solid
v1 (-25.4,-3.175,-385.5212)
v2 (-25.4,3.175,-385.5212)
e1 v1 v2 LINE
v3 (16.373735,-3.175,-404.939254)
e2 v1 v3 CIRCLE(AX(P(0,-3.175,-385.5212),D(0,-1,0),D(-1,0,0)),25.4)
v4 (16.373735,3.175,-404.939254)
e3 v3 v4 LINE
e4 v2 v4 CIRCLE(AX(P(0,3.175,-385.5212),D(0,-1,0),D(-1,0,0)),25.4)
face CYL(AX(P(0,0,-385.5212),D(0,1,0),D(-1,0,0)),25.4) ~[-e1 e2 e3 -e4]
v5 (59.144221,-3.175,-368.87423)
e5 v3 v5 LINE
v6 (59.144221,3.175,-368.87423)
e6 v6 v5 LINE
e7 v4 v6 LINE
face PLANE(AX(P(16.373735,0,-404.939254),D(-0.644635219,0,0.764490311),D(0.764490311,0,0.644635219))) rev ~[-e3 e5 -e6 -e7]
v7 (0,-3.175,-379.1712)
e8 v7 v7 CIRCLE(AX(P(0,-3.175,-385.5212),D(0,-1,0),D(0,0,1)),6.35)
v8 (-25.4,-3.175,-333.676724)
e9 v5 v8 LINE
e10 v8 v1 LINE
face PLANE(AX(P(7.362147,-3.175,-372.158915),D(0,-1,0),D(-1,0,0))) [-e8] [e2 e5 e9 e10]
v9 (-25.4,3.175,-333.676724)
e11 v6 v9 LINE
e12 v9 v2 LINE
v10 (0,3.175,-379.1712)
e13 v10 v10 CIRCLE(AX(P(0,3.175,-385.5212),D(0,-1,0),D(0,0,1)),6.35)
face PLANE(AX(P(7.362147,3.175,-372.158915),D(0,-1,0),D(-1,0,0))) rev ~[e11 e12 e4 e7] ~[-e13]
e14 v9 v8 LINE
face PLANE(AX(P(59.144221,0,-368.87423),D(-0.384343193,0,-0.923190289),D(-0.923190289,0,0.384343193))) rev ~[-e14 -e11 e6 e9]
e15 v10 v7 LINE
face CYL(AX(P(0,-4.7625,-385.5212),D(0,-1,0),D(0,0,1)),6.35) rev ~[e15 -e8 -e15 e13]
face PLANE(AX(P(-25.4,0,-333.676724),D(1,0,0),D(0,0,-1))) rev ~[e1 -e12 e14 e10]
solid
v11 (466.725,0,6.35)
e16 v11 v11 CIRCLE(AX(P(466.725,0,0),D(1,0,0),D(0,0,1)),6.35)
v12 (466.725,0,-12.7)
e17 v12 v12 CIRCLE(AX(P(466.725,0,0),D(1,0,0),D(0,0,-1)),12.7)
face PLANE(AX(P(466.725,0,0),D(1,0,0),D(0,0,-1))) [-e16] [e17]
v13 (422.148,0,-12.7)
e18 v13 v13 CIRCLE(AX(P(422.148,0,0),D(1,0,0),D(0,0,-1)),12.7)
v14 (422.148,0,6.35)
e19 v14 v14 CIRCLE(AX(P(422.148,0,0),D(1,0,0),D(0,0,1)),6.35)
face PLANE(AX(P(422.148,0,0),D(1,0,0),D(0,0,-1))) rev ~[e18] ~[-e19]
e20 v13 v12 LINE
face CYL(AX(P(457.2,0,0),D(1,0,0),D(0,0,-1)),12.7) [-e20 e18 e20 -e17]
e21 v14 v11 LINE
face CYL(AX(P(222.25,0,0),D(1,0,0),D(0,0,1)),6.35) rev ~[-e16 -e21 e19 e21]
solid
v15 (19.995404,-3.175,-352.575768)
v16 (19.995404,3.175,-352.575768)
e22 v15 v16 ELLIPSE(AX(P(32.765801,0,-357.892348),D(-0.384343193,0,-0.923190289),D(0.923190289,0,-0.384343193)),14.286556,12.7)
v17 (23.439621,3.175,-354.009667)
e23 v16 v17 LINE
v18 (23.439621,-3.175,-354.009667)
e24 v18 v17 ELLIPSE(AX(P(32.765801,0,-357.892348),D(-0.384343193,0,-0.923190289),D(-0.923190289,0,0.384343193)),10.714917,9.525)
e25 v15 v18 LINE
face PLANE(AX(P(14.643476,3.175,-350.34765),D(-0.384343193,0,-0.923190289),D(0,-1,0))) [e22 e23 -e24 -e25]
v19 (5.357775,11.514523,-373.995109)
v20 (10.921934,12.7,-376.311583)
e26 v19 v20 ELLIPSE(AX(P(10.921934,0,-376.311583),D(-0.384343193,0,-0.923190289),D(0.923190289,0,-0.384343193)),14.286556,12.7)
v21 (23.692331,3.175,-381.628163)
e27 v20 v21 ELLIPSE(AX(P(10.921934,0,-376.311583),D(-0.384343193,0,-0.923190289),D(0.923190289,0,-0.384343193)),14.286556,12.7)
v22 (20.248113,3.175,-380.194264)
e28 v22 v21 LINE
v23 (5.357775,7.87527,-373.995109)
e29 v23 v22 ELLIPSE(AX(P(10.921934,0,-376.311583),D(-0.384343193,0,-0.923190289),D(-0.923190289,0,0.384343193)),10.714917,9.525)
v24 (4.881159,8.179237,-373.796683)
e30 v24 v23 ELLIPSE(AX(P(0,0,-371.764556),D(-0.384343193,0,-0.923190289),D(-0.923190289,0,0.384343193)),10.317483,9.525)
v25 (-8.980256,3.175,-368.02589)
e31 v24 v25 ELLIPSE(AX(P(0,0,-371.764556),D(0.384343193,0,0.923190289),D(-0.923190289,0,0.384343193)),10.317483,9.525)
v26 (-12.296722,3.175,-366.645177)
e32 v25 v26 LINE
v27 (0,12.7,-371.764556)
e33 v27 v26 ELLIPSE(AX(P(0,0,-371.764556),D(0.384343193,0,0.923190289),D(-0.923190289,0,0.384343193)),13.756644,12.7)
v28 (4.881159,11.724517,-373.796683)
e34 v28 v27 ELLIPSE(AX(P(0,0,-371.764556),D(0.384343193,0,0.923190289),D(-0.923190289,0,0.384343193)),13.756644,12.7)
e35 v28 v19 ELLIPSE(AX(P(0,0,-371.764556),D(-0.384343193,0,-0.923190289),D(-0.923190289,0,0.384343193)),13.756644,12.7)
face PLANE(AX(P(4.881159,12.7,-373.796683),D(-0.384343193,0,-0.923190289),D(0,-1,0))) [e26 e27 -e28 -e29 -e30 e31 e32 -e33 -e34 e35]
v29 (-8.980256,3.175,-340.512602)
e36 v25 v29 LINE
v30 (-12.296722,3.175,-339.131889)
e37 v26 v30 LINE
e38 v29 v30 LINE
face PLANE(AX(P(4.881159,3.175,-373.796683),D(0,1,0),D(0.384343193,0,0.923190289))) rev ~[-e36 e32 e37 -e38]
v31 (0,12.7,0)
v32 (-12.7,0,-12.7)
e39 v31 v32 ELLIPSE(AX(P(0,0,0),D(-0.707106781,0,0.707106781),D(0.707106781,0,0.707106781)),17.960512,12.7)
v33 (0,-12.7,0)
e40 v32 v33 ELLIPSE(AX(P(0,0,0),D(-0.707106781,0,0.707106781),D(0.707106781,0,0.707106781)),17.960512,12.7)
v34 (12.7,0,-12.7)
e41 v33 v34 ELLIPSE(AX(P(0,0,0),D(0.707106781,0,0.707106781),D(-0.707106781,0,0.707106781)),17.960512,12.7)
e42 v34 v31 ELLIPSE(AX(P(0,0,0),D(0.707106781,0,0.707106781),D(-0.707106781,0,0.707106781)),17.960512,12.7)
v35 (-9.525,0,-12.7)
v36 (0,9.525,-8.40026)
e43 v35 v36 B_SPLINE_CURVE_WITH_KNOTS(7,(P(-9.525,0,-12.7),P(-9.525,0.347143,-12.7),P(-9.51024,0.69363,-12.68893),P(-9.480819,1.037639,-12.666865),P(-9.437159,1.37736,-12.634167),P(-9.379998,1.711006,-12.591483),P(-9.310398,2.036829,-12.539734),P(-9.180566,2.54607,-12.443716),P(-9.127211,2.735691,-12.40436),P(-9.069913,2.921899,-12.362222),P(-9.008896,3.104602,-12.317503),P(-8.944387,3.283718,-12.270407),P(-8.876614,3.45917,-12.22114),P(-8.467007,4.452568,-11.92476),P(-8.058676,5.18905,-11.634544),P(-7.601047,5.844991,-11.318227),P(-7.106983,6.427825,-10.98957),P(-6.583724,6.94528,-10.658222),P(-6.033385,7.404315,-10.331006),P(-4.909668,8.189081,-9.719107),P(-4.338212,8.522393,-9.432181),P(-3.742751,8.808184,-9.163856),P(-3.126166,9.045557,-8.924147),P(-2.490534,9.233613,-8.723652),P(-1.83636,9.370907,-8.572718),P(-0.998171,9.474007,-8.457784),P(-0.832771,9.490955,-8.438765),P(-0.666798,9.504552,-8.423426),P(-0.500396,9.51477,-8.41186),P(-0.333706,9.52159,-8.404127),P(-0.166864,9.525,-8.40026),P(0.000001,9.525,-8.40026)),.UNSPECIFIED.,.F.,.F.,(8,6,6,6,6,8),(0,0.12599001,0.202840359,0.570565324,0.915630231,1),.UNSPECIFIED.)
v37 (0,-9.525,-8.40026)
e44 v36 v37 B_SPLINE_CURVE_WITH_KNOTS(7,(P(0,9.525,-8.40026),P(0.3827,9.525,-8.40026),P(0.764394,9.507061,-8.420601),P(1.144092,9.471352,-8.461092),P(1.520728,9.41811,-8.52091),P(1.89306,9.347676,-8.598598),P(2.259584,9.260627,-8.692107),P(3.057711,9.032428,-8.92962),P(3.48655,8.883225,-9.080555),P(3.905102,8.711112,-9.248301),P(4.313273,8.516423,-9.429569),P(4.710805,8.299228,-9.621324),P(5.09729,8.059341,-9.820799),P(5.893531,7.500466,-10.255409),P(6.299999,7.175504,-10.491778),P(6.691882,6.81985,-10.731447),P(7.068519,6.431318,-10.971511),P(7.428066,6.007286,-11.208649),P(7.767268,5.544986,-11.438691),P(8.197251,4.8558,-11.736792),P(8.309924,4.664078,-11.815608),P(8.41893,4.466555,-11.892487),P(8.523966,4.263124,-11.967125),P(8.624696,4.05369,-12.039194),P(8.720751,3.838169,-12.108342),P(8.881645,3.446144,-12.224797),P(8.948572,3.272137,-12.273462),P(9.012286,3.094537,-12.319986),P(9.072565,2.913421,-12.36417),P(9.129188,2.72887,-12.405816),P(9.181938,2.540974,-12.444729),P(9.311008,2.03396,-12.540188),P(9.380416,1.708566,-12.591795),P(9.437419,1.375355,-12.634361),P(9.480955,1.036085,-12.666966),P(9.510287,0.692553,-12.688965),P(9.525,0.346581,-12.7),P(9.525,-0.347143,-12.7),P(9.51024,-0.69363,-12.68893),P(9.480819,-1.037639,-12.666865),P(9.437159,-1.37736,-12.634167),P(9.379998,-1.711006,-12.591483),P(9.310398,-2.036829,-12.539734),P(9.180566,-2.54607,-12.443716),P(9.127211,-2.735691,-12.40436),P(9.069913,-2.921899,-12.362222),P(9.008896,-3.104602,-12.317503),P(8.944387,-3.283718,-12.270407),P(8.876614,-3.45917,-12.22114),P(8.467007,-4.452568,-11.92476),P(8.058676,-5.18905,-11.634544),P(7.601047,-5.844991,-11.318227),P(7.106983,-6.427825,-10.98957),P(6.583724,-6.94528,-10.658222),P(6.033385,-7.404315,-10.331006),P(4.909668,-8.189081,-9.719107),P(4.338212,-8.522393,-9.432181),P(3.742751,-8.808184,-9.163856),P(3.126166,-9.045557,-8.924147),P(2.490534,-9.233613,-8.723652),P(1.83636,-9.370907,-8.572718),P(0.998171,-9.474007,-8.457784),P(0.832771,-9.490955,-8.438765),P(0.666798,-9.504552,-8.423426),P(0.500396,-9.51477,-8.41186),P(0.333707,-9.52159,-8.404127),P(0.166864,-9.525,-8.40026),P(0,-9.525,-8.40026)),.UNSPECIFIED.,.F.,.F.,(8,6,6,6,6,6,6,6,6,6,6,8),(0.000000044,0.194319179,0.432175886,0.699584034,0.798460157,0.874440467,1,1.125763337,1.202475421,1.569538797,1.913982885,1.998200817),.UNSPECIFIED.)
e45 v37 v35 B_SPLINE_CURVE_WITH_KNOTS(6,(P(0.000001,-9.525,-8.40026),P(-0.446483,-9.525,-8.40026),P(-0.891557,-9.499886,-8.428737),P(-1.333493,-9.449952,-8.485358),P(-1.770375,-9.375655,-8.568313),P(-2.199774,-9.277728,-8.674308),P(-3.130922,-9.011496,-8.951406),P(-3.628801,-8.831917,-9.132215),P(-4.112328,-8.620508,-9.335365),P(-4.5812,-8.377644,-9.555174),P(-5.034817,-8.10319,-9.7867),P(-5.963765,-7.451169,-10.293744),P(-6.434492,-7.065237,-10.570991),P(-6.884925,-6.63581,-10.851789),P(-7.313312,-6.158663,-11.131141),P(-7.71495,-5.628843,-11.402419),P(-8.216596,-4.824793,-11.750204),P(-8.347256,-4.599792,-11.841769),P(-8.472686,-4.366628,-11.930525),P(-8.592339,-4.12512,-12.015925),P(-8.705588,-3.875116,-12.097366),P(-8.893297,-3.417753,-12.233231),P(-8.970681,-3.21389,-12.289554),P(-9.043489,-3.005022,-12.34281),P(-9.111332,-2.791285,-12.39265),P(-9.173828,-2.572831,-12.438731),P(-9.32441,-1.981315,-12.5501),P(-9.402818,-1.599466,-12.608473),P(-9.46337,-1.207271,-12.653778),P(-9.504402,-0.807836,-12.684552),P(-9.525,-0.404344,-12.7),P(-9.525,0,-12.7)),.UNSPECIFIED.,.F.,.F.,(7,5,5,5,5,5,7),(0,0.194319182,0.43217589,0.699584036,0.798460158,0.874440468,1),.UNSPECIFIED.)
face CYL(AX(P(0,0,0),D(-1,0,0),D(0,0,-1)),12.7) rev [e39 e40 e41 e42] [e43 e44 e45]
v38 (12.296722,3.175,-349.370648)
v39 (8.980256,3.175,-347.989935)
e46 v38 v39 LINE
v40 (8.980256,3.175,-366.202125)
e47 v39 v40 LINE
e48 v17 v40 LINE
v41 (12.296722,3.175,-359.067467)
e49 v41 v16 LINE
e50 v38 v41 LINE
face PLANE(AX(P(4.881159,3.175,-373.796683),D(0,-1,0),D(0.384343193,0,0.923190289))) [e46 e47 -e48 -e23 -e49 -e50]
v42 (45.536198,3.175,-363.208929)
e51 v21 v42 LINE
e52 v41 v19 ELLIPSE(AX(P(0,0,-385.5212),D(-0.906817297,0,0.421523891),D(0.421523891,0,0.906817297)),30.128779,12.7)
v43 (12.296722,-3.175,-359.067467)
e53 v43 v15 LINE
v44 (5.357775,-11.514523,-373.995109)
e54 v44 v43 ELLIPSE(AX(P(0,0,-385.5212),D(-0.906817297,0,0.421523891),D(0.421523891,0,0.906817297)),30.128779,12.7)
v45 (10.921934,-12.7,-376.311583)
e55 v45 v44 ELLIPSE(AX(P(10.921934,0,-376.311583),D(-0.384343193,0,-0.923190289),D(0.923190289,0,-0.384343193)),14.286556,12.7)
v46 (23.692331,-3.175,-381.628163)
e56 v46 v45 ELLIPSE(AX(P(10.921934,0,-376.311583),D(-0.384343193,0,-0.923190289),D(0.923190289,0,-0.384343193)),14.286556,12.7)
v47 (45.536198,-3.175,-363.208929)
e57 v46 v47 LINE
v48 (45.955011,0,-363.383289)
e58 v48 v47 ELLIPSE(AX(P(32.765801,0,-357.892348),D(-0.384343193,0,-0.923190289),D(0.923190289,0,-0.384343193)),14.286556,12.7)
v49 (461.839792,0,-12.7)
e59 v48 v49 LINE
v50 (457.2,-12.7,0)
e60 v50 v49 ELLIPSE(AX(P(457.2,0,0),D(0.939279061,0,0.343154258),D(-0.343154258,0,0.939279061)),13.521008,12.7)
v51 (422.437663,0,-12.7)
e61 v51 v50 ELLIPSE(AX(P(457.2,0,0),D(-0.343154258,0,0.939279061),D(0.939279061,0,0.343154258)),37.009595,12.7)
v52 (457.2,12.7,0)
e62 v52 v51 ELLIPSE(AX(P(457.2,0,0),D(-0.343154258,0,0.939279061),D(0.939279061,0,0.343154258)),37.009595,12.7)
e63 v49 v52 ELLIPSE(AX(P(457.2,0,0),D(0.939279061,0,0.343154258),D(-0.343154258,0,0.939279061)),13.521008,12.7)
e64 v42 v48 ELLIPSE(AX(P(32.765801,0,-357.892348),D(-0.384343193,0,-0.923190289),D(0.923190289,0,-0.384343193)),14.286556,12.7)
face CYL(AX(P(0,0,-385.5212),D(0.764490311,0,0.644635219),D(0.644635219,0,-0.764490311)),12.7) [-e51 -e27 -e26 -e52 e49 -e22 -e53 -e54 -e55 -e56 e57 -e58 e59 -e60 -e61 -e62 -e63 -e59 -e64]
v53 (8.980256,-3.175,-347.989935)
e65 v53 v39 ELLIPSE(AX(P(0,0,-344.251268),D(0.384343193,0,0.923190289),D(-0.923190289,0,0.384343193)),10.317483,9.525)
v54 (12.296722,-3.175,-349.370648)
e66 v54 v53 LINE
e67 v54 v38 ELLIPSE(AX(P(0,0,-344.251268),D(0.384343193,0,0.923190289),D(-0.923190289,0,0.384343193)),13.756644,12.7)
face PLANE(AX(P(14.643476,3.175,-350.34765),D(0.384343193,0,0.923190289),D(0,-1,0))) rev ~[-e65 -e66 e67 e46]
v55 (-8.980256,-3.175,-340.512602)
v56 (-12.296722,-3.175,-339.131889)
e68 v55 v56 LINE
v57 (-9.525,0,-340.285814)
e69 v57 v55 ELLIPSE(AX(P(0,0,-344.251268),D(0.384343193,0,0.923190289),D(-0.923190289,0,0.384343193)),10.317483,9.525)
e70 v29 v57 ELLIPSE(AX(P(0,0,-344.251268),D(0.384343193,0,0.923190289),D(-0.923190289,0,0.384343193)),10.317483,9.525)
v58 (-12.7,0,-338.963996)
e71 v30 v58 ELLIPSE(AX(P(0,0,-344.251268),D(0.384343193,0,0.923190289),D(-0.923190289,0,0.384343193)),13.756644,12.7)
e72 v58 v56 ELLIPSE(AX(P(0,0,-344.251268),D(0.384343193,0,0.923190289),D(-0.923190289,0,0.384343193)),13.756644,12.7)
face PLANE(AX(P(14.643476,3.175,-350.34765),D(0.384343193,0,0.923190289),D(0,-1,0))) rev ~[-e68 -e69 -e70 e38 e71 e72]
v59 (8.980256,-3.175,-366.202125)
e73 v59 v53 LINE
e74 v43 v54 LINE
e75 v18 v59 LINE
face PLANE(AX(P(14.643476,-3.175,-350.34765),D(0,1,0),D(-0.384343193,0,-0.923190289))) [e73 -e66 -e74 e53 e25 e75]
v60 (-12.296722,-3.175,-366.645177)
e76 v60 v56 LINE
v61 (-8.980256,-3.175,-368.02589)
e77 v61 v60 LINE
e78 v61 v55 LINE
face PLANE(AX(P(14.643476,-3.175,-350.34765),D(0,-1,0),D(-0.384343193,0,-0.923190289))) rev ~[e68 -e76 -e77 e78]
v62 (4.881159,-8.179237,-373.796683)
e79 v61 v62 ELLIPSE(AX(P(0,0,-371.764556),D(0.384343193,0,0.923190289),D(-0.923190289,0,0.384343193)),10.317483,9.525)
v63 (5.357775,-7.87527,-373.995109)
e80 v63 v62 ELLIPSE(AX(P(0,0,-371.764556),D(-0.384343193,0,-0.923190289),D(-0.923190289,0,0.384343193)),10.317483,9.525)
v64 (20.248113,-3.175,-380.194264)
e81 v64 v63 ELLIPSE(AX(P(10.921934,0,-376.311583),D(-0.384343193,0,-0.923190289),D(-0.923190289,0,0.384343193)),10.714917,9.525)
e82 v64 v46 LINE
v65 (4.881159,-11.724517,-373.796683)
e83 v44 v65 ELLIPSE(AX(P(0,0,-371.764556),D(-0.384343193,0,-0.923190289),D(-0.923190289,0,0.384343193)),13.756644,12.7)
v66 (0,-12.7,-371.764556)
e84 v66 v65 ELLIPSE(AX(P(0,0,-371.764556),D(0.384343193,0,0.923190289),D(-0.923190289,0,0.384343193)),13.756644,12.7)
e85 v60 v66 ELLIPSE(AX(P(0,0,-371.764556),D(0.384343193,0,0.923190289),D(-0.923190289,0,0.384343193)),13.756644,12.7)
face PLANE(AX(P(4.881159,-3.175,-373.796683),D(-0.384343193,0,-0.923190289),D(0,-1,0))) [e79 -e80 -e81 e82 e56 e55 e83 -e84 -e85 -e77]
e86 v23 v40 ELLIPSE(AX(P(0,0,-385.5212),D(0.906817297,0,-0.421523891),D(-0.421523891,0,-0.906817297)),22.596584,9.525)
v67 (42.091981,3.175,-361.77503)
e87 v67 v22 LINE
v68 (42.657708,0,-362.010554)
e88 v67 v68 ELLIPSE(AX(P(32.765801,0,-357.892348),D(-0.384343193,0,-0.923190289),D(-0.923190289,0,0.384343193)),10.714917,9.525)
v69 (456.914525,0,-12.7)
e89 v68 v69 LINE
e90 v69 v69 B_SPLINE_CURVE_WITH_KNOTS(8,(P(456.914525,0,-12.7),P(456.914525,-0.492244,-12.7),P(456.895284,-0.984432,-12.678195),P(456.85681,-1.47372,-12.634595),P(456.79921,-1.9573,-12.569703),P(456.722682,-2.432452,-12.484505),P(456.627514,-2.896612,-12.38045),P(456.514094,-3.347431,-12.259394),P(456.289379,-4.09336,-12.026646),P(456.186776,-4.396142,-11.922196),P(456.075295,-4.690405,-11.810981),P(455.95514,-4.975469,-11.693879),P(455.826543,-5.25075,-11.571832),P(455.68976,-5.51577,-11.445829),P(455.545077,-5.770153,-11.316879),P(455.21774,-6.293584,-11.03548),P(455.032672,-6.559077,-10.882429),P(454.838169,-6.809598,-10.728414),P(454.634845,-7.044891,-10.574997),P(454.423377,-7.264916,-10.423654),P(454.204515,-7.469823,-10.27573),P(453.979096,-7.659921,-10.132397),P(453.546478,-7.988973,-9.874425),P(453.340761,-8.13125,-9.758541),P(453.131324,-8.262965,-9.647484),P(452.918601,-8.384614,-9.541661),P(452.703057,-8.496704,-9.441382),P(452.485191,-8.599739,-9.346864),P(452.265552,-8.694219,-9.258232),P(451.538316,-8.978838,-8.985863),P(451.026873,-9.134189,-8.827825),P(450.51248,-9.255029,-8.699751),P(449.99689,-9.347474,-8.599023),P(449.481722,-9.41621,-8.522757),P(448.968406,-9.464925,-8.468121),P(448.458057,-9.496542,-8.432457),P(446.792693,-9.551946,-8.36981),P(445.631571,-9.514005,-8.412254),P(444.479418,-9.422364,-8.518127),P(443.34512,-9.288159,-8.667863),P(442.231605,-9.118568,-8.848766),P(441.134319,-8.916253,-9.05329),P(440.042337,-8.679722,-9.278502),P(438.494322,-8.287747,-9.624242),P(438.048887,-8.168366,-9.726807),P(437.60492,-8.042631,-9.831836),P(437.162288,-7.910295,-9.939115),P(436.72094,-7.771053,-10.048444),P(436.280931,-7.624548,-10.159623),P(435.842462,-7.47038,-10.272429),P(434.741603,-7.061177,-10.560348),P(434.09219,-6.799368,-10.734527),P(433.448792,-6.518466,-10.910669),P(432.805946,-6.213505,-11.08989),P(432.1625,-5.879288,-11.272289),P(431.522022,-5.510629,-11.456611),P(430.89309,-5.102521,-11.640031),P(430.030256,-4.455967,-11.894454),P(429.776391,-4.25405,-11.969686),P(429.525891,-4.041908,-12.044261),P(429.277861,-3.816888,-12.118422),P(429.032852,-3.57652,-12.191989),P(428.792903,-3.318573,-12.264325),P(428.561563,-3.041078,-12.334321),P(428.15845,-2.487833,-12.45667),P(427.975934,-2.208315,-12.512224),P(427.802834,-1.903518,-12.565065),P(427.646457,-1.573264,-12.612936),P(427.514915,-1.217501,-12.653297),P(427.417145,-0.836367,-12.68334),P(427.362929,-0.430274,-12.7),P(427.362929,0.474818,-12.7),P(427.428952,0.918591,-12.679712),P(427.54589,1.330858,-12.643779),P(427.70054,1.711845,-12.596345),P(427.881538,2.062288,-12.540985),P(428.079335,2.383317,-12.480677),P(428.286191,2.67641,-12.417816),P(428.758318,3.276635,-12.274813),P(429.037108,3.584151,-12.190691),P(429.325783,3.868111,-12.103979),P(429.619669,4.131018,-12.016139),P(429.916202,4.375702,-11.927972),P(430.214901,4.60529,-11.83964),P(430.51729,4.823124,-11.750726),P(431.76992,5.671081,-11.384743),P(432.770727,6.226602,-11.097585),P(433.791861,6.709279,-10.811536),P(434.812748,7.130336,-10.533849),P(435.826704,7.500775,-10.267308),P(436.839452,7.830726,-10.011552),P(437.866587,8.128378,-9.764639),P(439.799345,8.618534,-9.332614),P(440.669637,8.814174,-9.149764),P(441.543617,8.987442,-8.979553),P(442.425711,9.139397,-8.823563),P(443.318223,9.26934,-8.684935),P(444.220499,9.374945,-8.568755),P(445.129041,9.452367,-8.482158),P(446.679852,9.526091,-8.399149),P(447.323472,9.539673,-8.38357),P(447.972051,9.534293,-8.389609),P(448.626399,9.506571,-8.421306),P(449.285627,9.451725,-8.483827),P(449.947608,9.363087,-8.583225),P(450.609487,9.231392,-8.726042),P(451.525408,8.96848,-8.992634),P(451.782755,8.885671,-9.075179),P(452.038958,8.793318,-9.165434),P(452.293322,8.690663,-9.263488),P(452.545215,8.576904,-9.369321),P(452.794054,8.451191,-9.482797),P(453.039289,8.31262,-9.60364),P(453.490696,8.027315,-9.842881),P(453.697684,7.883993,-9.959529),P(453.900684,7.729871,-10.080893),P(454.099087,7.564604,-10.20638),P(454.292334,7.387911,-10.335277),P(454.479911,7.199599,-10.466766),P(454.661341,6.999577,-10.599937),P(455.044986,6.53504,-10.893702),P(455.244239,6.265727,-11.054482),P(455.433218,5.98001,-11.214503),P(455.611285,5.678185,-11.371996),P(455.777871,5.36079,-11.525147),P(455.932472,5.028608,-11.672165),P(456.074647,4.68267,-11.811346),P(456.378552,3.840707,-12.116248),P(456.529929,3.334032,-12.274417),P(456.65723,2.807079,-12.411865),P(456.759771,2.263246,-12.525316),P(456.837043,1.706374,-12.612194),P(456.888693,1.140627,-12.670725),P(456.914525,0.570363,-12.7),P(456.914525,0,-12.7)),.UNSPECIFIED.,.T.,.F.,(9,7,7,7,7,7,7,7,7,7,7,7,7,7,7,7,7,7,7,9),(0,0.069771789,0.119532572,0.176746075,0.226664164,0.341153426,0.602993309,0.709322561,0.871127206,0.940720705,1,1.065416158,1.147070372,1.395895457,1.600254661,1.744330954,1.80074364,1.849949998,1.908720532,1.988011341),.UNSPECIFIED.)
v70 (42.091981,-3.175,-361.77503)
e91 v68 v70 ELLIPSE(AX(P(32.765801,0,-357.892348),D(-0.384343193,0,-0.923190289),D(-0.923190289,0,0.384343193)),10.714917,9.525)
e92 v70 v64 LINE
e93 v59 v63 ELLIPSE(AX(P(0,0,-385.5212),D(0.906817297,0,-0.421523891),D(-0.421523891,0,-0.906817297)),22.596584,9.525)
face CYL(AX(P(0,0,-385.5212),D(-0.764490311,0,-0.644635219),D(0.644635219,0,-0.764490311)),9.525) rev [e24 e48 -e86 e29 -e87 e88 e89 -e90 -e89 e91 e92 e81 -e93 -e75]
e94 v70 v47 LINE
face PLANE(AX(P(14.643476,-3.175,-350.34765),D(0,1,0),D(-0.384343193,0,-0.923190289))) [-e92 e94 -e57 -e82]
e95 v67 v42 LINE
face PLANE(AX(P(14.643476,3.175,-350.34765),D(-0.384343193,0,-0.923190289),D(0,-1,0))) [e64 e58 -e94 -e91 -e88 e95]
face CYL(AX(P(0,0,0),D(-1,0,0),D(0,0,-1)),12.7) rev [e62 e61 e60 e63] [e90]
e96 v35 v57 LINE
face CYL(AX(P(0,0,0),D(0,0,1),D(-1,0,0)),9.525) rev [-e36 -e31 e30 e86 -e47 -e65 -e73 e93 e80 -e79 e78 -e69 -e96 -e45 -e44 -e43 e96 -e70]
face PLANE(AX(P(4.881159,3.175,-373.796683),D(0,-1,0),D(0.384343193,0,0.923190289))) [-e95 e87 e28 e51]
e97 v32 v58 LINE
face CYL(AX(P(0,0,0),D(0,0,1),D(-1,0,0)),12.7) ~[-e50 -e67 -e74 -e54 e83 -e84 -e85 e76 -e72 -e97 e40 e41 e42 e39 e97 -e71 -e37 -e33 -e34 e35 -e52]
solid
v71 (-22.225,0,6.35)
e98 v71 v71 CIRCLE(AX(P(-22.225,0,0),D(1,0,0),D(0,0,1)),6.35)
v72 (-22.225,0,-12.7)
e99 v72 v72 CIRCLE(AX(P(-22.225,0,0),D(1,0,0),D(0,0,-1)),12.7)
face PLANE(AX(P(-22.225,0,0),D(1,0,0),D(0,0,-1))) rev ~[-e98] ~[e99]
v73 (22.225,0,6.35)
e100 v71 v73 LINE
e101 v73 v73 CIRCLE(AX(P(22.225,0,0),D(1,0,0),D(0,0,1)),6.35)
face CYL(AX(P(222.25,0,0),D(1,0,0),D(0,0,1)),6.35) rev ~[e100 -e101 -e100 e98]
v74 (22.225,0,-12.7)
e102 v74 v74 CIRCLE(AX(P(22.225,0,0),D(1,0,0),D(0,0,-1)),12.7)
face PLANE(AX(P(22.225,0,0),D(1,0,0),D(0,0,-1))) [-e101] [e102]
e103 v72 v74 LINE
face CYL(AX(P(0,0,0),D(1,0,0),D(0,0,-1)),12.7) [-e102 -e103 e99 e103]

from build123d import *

# Parameters (mm, degrees)
SKETCH11_ON_SEGMENT_1_R         = 12.7
SKETCH11_ON_SEGMENT_1_R_2       = 9.525
STRUCTURAL_MEMBER1_DEPTH        = 425.159349585
SKETCH11_R                      = 12.7
SKETCH11_R_2                    = 9.525
STRUCTURAL_MEMBER1_2_DEPTH      = 598.045513025
STRUCTURAL_MEMBER1_2_DEPTH_BACK = 39.638149585
CUT_EXTRUDE1_DEPTH              = 611.698909876
CUT_EXTRUDE1_DEPTH_BACK         = 611.698909876
BOSS_EXTRUDE1_DEPTH             = 3.175
BOSS_EXTRUDE1_DEPTH_BACK        = 3.175
SKETCH14_W                      = 6.35
SKETCH14_H                      = 15.875
SKETCH16_R                      = 12.7
CUT_EXTRUDE2_DEPTH              = 621.968967697
CUT_EXTRUDE2_DEPTH_BACK         = 621.968967697
SKETCH17_R                      = 12.7
BOSS_EXTRUDE2_DEPTH             = 22.225
BOSS_EXTRUDE2_DEPTH_BACK        = 22.225
SKETCH18_R                      = 12.7
BOSS_EXTRUDE3_DEPTH             = 9.525
BOSS_EXTRUDE3_DEPTH_BACK        = 35.052
SKETCH19_W                      = 6.35
SKETCH19_H                      = 488.95


with BuildPart() as part:
    # Sketch11 on segment 1 (carried to segment 1) → Structural Member1 (new body)
    with BuildSketch(Plane(origin=(0, 0, 0), x_dir=(-1, 0, 0), z_dir=(0, 0, -1))):
        Circle(SKETCH11_ON_SEGMENT_1_R)
        Circle(SKETCH11_ON_SEGMENT_1_R_2, mode=Mode.SUBTRACT)
    extrude(amount=STRUCTURAL_MEMBER1_DEPTH)

    # Structural Member1 mitre 1
    split(bisect_by=Plane(origin=(0, 0, -385.5212), x_dir=(0, -1, 0), z_dir=(-0.906817297, 0, 0.421523891)), keep=Keep.TOP)


with BuildPart() as body_2:
    # Sketch11 → Structural Member1 2 (new, two sides)
    with BuildSketch(Plane(origin=(0, 0, -385.5212), x_dir=(0.6446352185637546, 0, -0.7644903105908277), z_dir=(0.7644903105908278, 0, 0.6446352185637547))) as structural_member1_2_sk:
        Circle(SKETCH11_R)
        Circle(SKETCH11_R_2, mode=Mode.SUBTRACT)
    extrude(amount=STRUCTURAL_MEMBER1_2_DEPTH)
    extrude(structural_member1_2_sk.sketch, amount=-STRUCTURAL_MEMBER1_2_DEPTH_BACK)

    # Structural Member1 2 mitre 1
    split(bisect_by=Plane(origin=(0, 0, -385.5212), x_dir=(0, 1, 0), z_dir=(0.906817297, 0, -0.421523891)), keep=Keep.TOP)


with BuildPart() as part_1:
    add(part.part)

    # Structural Member1 as one body: union body 2
    add(body_2.part)

    # Sketch13 → Cut-Extrude1 (cut, two sides)
    with BuildSketch(Plane(origin=(0, 0, -385.5212), x_dir=(0.3843431928760582, 0, 0.9231902892090218), z_dir=(-0.9231902892090218, 0, 0.3843431928760582))) as cut_extrude1_sk:
        Polygon((12.7, 3.175), (38.1, 3.175), (38.1, -3.175), (12.7, -3.175), (12.7, -12.7), (-30.103915168, -12.7), (-30.103915168, 12.7), (12.7, 12.7), align=None)
    extrude(amount=CUT_EXTRUDE1_DEPTH, mode=Mode.SUBTRACT)
    extrude(cut_extrude1_sk.sketch, amount=-CUT_EXTRUDE1_DEPTH_BACK, mode=Mode.SUBTRACT)

    # Sketch16 → Cut-Extrude2 (cut, two sides)
    with BuildSketch(Plane(origin=(0, 0, 0), x_dir=(0, 0, -1), z_dir=(1, 0, 0))) as cut_extrude2_sk:
        Circle(SKETCH16_R)
    extrude(amount=CUT_EXTRUDE2_DEPTH, mode=Mode.SUBTRACT)
    extrude(cut_extrude2_sk.sketch, amount=-CUT_EXTRUDE2_DEPTH_BACK, mode=Mode.SUBTRACT)


with BuildPart() as body_2_2:
    # Sketch12 → Boss-Extrude1 (new, two sides)
    with BuildSketch(Plane(origin=(0, 0, 0), x_dir=(1, 0, 0), z_dir=(0, 1, 0))) as boss_extrude1_sk:
        with BuildLine():
            Line((16.373734552, 404.939253889), (59.144220595, 368.874229602))
            Line((59.144220595, 368.874229602), (-25.4, 333.676723668))
            Line((-25.4, 333.676723668), (-25.4, 385.5212))
            ThreePointArc((-25.4, 385.5212), (-10.706706832, 408.554359332), (16.373734552, 404.939253889))
        make_face()
    extrude(amount=BOSS_EXTRUDE1_DEPTH)
    extrude(boss_extrude1_sk.sketch, amount=-BOSS_EXTRUDE1_DEPTH_BACK)

    # Sketch14 → 1_2 _0.5_ Diameter Hole1 (revolve, cut)
    with BuildSketch(Plane(origin=(0, 3.175, -385.5212), x_dir=(0, 0, 1), z_dir=(1, 0, 0))):
        with Locations((3.175, 7.9375)):
            Rectangle(SKETCH14_W, SKETCH14_H)
    revolve(axis=Axis((0, 9.525, -385.5212), (0, -1, 0)), mode=Mode.SUBTRACT)


with BuildPart() as body_3:
    # Sketch17 → Boss-Extrude2 (new, two sides)
    with BuildSketch(Plane(origin=(0, 0, 0), x_dir=(0, 0, -1), z_dir=(1, 0, 0))) as boss_extrude2_sk:
        Circle(SKETCH17_R)
    extrude(amount=BOSS_EXTRUDE2_DEPTH)
    extrude(boss_extrude2_sk.sketch, amount=-BOSS_EXTRUDE2_DEPTH_BACK)


with BuildPart() as body_4:
    # Sketch18 → Boss-Extrude3 (new, two sides)
    with BuildSketch(Plane(origin=(457.2, 0, 0), x_dir=(0, 0, -1), z_dir=(1, 0, 0))) as boss_extrude3_sk:
        Circle(SKETCH18_R)
    extrude(amount=BOSS_EXTRUDE3_DEPTH)
    extrude(boss_extrude3_sk.sketch, amount=-BOSS_EXTRUDE3_DEPTH_BACK)


with BuildPart() as f_1_2_0_5_diameter_hole2_tool:
    # Sketch19 → 1_2 _0.5_ Diameter Hole2 (revolve)
    with BuildSketch(Plane(origin=(-22.225, 0, 0), x_dir=(0, 0, 1), z_dir=(0, 1, 0))):
        with Locations((3.175, 244.475)):
            Rectangle(SKETCH19_W, SKETCH19_H)
    revolve(axis=Axis((-28.575, 0, 0), (1, 0, 0)))


with BuildPart() as body_3_1:
    add(body_3.part)

    # 1_2 _0.5_ Diameter Hole2: cut by f_1_2_0_5_diameter_hole2_tool
    add(f_1_2_0_5_diameter_hole2_tool.part, mode=Mode.SUBTRACT)


with BuildPart() as body_4_1:
    add(body_4.part)

    # 1_2 _0.5_ Diameter Hole2: cut by f_1_2_0_5_diameter_hole2_tool
    add(f_1_2_0_5_diameter_hole2_tool.part, mode=Mode.SUBTRACT)


solid = Compound([part_1.part, body_2_2.part, body_3_1.part, body_4_1.part])
